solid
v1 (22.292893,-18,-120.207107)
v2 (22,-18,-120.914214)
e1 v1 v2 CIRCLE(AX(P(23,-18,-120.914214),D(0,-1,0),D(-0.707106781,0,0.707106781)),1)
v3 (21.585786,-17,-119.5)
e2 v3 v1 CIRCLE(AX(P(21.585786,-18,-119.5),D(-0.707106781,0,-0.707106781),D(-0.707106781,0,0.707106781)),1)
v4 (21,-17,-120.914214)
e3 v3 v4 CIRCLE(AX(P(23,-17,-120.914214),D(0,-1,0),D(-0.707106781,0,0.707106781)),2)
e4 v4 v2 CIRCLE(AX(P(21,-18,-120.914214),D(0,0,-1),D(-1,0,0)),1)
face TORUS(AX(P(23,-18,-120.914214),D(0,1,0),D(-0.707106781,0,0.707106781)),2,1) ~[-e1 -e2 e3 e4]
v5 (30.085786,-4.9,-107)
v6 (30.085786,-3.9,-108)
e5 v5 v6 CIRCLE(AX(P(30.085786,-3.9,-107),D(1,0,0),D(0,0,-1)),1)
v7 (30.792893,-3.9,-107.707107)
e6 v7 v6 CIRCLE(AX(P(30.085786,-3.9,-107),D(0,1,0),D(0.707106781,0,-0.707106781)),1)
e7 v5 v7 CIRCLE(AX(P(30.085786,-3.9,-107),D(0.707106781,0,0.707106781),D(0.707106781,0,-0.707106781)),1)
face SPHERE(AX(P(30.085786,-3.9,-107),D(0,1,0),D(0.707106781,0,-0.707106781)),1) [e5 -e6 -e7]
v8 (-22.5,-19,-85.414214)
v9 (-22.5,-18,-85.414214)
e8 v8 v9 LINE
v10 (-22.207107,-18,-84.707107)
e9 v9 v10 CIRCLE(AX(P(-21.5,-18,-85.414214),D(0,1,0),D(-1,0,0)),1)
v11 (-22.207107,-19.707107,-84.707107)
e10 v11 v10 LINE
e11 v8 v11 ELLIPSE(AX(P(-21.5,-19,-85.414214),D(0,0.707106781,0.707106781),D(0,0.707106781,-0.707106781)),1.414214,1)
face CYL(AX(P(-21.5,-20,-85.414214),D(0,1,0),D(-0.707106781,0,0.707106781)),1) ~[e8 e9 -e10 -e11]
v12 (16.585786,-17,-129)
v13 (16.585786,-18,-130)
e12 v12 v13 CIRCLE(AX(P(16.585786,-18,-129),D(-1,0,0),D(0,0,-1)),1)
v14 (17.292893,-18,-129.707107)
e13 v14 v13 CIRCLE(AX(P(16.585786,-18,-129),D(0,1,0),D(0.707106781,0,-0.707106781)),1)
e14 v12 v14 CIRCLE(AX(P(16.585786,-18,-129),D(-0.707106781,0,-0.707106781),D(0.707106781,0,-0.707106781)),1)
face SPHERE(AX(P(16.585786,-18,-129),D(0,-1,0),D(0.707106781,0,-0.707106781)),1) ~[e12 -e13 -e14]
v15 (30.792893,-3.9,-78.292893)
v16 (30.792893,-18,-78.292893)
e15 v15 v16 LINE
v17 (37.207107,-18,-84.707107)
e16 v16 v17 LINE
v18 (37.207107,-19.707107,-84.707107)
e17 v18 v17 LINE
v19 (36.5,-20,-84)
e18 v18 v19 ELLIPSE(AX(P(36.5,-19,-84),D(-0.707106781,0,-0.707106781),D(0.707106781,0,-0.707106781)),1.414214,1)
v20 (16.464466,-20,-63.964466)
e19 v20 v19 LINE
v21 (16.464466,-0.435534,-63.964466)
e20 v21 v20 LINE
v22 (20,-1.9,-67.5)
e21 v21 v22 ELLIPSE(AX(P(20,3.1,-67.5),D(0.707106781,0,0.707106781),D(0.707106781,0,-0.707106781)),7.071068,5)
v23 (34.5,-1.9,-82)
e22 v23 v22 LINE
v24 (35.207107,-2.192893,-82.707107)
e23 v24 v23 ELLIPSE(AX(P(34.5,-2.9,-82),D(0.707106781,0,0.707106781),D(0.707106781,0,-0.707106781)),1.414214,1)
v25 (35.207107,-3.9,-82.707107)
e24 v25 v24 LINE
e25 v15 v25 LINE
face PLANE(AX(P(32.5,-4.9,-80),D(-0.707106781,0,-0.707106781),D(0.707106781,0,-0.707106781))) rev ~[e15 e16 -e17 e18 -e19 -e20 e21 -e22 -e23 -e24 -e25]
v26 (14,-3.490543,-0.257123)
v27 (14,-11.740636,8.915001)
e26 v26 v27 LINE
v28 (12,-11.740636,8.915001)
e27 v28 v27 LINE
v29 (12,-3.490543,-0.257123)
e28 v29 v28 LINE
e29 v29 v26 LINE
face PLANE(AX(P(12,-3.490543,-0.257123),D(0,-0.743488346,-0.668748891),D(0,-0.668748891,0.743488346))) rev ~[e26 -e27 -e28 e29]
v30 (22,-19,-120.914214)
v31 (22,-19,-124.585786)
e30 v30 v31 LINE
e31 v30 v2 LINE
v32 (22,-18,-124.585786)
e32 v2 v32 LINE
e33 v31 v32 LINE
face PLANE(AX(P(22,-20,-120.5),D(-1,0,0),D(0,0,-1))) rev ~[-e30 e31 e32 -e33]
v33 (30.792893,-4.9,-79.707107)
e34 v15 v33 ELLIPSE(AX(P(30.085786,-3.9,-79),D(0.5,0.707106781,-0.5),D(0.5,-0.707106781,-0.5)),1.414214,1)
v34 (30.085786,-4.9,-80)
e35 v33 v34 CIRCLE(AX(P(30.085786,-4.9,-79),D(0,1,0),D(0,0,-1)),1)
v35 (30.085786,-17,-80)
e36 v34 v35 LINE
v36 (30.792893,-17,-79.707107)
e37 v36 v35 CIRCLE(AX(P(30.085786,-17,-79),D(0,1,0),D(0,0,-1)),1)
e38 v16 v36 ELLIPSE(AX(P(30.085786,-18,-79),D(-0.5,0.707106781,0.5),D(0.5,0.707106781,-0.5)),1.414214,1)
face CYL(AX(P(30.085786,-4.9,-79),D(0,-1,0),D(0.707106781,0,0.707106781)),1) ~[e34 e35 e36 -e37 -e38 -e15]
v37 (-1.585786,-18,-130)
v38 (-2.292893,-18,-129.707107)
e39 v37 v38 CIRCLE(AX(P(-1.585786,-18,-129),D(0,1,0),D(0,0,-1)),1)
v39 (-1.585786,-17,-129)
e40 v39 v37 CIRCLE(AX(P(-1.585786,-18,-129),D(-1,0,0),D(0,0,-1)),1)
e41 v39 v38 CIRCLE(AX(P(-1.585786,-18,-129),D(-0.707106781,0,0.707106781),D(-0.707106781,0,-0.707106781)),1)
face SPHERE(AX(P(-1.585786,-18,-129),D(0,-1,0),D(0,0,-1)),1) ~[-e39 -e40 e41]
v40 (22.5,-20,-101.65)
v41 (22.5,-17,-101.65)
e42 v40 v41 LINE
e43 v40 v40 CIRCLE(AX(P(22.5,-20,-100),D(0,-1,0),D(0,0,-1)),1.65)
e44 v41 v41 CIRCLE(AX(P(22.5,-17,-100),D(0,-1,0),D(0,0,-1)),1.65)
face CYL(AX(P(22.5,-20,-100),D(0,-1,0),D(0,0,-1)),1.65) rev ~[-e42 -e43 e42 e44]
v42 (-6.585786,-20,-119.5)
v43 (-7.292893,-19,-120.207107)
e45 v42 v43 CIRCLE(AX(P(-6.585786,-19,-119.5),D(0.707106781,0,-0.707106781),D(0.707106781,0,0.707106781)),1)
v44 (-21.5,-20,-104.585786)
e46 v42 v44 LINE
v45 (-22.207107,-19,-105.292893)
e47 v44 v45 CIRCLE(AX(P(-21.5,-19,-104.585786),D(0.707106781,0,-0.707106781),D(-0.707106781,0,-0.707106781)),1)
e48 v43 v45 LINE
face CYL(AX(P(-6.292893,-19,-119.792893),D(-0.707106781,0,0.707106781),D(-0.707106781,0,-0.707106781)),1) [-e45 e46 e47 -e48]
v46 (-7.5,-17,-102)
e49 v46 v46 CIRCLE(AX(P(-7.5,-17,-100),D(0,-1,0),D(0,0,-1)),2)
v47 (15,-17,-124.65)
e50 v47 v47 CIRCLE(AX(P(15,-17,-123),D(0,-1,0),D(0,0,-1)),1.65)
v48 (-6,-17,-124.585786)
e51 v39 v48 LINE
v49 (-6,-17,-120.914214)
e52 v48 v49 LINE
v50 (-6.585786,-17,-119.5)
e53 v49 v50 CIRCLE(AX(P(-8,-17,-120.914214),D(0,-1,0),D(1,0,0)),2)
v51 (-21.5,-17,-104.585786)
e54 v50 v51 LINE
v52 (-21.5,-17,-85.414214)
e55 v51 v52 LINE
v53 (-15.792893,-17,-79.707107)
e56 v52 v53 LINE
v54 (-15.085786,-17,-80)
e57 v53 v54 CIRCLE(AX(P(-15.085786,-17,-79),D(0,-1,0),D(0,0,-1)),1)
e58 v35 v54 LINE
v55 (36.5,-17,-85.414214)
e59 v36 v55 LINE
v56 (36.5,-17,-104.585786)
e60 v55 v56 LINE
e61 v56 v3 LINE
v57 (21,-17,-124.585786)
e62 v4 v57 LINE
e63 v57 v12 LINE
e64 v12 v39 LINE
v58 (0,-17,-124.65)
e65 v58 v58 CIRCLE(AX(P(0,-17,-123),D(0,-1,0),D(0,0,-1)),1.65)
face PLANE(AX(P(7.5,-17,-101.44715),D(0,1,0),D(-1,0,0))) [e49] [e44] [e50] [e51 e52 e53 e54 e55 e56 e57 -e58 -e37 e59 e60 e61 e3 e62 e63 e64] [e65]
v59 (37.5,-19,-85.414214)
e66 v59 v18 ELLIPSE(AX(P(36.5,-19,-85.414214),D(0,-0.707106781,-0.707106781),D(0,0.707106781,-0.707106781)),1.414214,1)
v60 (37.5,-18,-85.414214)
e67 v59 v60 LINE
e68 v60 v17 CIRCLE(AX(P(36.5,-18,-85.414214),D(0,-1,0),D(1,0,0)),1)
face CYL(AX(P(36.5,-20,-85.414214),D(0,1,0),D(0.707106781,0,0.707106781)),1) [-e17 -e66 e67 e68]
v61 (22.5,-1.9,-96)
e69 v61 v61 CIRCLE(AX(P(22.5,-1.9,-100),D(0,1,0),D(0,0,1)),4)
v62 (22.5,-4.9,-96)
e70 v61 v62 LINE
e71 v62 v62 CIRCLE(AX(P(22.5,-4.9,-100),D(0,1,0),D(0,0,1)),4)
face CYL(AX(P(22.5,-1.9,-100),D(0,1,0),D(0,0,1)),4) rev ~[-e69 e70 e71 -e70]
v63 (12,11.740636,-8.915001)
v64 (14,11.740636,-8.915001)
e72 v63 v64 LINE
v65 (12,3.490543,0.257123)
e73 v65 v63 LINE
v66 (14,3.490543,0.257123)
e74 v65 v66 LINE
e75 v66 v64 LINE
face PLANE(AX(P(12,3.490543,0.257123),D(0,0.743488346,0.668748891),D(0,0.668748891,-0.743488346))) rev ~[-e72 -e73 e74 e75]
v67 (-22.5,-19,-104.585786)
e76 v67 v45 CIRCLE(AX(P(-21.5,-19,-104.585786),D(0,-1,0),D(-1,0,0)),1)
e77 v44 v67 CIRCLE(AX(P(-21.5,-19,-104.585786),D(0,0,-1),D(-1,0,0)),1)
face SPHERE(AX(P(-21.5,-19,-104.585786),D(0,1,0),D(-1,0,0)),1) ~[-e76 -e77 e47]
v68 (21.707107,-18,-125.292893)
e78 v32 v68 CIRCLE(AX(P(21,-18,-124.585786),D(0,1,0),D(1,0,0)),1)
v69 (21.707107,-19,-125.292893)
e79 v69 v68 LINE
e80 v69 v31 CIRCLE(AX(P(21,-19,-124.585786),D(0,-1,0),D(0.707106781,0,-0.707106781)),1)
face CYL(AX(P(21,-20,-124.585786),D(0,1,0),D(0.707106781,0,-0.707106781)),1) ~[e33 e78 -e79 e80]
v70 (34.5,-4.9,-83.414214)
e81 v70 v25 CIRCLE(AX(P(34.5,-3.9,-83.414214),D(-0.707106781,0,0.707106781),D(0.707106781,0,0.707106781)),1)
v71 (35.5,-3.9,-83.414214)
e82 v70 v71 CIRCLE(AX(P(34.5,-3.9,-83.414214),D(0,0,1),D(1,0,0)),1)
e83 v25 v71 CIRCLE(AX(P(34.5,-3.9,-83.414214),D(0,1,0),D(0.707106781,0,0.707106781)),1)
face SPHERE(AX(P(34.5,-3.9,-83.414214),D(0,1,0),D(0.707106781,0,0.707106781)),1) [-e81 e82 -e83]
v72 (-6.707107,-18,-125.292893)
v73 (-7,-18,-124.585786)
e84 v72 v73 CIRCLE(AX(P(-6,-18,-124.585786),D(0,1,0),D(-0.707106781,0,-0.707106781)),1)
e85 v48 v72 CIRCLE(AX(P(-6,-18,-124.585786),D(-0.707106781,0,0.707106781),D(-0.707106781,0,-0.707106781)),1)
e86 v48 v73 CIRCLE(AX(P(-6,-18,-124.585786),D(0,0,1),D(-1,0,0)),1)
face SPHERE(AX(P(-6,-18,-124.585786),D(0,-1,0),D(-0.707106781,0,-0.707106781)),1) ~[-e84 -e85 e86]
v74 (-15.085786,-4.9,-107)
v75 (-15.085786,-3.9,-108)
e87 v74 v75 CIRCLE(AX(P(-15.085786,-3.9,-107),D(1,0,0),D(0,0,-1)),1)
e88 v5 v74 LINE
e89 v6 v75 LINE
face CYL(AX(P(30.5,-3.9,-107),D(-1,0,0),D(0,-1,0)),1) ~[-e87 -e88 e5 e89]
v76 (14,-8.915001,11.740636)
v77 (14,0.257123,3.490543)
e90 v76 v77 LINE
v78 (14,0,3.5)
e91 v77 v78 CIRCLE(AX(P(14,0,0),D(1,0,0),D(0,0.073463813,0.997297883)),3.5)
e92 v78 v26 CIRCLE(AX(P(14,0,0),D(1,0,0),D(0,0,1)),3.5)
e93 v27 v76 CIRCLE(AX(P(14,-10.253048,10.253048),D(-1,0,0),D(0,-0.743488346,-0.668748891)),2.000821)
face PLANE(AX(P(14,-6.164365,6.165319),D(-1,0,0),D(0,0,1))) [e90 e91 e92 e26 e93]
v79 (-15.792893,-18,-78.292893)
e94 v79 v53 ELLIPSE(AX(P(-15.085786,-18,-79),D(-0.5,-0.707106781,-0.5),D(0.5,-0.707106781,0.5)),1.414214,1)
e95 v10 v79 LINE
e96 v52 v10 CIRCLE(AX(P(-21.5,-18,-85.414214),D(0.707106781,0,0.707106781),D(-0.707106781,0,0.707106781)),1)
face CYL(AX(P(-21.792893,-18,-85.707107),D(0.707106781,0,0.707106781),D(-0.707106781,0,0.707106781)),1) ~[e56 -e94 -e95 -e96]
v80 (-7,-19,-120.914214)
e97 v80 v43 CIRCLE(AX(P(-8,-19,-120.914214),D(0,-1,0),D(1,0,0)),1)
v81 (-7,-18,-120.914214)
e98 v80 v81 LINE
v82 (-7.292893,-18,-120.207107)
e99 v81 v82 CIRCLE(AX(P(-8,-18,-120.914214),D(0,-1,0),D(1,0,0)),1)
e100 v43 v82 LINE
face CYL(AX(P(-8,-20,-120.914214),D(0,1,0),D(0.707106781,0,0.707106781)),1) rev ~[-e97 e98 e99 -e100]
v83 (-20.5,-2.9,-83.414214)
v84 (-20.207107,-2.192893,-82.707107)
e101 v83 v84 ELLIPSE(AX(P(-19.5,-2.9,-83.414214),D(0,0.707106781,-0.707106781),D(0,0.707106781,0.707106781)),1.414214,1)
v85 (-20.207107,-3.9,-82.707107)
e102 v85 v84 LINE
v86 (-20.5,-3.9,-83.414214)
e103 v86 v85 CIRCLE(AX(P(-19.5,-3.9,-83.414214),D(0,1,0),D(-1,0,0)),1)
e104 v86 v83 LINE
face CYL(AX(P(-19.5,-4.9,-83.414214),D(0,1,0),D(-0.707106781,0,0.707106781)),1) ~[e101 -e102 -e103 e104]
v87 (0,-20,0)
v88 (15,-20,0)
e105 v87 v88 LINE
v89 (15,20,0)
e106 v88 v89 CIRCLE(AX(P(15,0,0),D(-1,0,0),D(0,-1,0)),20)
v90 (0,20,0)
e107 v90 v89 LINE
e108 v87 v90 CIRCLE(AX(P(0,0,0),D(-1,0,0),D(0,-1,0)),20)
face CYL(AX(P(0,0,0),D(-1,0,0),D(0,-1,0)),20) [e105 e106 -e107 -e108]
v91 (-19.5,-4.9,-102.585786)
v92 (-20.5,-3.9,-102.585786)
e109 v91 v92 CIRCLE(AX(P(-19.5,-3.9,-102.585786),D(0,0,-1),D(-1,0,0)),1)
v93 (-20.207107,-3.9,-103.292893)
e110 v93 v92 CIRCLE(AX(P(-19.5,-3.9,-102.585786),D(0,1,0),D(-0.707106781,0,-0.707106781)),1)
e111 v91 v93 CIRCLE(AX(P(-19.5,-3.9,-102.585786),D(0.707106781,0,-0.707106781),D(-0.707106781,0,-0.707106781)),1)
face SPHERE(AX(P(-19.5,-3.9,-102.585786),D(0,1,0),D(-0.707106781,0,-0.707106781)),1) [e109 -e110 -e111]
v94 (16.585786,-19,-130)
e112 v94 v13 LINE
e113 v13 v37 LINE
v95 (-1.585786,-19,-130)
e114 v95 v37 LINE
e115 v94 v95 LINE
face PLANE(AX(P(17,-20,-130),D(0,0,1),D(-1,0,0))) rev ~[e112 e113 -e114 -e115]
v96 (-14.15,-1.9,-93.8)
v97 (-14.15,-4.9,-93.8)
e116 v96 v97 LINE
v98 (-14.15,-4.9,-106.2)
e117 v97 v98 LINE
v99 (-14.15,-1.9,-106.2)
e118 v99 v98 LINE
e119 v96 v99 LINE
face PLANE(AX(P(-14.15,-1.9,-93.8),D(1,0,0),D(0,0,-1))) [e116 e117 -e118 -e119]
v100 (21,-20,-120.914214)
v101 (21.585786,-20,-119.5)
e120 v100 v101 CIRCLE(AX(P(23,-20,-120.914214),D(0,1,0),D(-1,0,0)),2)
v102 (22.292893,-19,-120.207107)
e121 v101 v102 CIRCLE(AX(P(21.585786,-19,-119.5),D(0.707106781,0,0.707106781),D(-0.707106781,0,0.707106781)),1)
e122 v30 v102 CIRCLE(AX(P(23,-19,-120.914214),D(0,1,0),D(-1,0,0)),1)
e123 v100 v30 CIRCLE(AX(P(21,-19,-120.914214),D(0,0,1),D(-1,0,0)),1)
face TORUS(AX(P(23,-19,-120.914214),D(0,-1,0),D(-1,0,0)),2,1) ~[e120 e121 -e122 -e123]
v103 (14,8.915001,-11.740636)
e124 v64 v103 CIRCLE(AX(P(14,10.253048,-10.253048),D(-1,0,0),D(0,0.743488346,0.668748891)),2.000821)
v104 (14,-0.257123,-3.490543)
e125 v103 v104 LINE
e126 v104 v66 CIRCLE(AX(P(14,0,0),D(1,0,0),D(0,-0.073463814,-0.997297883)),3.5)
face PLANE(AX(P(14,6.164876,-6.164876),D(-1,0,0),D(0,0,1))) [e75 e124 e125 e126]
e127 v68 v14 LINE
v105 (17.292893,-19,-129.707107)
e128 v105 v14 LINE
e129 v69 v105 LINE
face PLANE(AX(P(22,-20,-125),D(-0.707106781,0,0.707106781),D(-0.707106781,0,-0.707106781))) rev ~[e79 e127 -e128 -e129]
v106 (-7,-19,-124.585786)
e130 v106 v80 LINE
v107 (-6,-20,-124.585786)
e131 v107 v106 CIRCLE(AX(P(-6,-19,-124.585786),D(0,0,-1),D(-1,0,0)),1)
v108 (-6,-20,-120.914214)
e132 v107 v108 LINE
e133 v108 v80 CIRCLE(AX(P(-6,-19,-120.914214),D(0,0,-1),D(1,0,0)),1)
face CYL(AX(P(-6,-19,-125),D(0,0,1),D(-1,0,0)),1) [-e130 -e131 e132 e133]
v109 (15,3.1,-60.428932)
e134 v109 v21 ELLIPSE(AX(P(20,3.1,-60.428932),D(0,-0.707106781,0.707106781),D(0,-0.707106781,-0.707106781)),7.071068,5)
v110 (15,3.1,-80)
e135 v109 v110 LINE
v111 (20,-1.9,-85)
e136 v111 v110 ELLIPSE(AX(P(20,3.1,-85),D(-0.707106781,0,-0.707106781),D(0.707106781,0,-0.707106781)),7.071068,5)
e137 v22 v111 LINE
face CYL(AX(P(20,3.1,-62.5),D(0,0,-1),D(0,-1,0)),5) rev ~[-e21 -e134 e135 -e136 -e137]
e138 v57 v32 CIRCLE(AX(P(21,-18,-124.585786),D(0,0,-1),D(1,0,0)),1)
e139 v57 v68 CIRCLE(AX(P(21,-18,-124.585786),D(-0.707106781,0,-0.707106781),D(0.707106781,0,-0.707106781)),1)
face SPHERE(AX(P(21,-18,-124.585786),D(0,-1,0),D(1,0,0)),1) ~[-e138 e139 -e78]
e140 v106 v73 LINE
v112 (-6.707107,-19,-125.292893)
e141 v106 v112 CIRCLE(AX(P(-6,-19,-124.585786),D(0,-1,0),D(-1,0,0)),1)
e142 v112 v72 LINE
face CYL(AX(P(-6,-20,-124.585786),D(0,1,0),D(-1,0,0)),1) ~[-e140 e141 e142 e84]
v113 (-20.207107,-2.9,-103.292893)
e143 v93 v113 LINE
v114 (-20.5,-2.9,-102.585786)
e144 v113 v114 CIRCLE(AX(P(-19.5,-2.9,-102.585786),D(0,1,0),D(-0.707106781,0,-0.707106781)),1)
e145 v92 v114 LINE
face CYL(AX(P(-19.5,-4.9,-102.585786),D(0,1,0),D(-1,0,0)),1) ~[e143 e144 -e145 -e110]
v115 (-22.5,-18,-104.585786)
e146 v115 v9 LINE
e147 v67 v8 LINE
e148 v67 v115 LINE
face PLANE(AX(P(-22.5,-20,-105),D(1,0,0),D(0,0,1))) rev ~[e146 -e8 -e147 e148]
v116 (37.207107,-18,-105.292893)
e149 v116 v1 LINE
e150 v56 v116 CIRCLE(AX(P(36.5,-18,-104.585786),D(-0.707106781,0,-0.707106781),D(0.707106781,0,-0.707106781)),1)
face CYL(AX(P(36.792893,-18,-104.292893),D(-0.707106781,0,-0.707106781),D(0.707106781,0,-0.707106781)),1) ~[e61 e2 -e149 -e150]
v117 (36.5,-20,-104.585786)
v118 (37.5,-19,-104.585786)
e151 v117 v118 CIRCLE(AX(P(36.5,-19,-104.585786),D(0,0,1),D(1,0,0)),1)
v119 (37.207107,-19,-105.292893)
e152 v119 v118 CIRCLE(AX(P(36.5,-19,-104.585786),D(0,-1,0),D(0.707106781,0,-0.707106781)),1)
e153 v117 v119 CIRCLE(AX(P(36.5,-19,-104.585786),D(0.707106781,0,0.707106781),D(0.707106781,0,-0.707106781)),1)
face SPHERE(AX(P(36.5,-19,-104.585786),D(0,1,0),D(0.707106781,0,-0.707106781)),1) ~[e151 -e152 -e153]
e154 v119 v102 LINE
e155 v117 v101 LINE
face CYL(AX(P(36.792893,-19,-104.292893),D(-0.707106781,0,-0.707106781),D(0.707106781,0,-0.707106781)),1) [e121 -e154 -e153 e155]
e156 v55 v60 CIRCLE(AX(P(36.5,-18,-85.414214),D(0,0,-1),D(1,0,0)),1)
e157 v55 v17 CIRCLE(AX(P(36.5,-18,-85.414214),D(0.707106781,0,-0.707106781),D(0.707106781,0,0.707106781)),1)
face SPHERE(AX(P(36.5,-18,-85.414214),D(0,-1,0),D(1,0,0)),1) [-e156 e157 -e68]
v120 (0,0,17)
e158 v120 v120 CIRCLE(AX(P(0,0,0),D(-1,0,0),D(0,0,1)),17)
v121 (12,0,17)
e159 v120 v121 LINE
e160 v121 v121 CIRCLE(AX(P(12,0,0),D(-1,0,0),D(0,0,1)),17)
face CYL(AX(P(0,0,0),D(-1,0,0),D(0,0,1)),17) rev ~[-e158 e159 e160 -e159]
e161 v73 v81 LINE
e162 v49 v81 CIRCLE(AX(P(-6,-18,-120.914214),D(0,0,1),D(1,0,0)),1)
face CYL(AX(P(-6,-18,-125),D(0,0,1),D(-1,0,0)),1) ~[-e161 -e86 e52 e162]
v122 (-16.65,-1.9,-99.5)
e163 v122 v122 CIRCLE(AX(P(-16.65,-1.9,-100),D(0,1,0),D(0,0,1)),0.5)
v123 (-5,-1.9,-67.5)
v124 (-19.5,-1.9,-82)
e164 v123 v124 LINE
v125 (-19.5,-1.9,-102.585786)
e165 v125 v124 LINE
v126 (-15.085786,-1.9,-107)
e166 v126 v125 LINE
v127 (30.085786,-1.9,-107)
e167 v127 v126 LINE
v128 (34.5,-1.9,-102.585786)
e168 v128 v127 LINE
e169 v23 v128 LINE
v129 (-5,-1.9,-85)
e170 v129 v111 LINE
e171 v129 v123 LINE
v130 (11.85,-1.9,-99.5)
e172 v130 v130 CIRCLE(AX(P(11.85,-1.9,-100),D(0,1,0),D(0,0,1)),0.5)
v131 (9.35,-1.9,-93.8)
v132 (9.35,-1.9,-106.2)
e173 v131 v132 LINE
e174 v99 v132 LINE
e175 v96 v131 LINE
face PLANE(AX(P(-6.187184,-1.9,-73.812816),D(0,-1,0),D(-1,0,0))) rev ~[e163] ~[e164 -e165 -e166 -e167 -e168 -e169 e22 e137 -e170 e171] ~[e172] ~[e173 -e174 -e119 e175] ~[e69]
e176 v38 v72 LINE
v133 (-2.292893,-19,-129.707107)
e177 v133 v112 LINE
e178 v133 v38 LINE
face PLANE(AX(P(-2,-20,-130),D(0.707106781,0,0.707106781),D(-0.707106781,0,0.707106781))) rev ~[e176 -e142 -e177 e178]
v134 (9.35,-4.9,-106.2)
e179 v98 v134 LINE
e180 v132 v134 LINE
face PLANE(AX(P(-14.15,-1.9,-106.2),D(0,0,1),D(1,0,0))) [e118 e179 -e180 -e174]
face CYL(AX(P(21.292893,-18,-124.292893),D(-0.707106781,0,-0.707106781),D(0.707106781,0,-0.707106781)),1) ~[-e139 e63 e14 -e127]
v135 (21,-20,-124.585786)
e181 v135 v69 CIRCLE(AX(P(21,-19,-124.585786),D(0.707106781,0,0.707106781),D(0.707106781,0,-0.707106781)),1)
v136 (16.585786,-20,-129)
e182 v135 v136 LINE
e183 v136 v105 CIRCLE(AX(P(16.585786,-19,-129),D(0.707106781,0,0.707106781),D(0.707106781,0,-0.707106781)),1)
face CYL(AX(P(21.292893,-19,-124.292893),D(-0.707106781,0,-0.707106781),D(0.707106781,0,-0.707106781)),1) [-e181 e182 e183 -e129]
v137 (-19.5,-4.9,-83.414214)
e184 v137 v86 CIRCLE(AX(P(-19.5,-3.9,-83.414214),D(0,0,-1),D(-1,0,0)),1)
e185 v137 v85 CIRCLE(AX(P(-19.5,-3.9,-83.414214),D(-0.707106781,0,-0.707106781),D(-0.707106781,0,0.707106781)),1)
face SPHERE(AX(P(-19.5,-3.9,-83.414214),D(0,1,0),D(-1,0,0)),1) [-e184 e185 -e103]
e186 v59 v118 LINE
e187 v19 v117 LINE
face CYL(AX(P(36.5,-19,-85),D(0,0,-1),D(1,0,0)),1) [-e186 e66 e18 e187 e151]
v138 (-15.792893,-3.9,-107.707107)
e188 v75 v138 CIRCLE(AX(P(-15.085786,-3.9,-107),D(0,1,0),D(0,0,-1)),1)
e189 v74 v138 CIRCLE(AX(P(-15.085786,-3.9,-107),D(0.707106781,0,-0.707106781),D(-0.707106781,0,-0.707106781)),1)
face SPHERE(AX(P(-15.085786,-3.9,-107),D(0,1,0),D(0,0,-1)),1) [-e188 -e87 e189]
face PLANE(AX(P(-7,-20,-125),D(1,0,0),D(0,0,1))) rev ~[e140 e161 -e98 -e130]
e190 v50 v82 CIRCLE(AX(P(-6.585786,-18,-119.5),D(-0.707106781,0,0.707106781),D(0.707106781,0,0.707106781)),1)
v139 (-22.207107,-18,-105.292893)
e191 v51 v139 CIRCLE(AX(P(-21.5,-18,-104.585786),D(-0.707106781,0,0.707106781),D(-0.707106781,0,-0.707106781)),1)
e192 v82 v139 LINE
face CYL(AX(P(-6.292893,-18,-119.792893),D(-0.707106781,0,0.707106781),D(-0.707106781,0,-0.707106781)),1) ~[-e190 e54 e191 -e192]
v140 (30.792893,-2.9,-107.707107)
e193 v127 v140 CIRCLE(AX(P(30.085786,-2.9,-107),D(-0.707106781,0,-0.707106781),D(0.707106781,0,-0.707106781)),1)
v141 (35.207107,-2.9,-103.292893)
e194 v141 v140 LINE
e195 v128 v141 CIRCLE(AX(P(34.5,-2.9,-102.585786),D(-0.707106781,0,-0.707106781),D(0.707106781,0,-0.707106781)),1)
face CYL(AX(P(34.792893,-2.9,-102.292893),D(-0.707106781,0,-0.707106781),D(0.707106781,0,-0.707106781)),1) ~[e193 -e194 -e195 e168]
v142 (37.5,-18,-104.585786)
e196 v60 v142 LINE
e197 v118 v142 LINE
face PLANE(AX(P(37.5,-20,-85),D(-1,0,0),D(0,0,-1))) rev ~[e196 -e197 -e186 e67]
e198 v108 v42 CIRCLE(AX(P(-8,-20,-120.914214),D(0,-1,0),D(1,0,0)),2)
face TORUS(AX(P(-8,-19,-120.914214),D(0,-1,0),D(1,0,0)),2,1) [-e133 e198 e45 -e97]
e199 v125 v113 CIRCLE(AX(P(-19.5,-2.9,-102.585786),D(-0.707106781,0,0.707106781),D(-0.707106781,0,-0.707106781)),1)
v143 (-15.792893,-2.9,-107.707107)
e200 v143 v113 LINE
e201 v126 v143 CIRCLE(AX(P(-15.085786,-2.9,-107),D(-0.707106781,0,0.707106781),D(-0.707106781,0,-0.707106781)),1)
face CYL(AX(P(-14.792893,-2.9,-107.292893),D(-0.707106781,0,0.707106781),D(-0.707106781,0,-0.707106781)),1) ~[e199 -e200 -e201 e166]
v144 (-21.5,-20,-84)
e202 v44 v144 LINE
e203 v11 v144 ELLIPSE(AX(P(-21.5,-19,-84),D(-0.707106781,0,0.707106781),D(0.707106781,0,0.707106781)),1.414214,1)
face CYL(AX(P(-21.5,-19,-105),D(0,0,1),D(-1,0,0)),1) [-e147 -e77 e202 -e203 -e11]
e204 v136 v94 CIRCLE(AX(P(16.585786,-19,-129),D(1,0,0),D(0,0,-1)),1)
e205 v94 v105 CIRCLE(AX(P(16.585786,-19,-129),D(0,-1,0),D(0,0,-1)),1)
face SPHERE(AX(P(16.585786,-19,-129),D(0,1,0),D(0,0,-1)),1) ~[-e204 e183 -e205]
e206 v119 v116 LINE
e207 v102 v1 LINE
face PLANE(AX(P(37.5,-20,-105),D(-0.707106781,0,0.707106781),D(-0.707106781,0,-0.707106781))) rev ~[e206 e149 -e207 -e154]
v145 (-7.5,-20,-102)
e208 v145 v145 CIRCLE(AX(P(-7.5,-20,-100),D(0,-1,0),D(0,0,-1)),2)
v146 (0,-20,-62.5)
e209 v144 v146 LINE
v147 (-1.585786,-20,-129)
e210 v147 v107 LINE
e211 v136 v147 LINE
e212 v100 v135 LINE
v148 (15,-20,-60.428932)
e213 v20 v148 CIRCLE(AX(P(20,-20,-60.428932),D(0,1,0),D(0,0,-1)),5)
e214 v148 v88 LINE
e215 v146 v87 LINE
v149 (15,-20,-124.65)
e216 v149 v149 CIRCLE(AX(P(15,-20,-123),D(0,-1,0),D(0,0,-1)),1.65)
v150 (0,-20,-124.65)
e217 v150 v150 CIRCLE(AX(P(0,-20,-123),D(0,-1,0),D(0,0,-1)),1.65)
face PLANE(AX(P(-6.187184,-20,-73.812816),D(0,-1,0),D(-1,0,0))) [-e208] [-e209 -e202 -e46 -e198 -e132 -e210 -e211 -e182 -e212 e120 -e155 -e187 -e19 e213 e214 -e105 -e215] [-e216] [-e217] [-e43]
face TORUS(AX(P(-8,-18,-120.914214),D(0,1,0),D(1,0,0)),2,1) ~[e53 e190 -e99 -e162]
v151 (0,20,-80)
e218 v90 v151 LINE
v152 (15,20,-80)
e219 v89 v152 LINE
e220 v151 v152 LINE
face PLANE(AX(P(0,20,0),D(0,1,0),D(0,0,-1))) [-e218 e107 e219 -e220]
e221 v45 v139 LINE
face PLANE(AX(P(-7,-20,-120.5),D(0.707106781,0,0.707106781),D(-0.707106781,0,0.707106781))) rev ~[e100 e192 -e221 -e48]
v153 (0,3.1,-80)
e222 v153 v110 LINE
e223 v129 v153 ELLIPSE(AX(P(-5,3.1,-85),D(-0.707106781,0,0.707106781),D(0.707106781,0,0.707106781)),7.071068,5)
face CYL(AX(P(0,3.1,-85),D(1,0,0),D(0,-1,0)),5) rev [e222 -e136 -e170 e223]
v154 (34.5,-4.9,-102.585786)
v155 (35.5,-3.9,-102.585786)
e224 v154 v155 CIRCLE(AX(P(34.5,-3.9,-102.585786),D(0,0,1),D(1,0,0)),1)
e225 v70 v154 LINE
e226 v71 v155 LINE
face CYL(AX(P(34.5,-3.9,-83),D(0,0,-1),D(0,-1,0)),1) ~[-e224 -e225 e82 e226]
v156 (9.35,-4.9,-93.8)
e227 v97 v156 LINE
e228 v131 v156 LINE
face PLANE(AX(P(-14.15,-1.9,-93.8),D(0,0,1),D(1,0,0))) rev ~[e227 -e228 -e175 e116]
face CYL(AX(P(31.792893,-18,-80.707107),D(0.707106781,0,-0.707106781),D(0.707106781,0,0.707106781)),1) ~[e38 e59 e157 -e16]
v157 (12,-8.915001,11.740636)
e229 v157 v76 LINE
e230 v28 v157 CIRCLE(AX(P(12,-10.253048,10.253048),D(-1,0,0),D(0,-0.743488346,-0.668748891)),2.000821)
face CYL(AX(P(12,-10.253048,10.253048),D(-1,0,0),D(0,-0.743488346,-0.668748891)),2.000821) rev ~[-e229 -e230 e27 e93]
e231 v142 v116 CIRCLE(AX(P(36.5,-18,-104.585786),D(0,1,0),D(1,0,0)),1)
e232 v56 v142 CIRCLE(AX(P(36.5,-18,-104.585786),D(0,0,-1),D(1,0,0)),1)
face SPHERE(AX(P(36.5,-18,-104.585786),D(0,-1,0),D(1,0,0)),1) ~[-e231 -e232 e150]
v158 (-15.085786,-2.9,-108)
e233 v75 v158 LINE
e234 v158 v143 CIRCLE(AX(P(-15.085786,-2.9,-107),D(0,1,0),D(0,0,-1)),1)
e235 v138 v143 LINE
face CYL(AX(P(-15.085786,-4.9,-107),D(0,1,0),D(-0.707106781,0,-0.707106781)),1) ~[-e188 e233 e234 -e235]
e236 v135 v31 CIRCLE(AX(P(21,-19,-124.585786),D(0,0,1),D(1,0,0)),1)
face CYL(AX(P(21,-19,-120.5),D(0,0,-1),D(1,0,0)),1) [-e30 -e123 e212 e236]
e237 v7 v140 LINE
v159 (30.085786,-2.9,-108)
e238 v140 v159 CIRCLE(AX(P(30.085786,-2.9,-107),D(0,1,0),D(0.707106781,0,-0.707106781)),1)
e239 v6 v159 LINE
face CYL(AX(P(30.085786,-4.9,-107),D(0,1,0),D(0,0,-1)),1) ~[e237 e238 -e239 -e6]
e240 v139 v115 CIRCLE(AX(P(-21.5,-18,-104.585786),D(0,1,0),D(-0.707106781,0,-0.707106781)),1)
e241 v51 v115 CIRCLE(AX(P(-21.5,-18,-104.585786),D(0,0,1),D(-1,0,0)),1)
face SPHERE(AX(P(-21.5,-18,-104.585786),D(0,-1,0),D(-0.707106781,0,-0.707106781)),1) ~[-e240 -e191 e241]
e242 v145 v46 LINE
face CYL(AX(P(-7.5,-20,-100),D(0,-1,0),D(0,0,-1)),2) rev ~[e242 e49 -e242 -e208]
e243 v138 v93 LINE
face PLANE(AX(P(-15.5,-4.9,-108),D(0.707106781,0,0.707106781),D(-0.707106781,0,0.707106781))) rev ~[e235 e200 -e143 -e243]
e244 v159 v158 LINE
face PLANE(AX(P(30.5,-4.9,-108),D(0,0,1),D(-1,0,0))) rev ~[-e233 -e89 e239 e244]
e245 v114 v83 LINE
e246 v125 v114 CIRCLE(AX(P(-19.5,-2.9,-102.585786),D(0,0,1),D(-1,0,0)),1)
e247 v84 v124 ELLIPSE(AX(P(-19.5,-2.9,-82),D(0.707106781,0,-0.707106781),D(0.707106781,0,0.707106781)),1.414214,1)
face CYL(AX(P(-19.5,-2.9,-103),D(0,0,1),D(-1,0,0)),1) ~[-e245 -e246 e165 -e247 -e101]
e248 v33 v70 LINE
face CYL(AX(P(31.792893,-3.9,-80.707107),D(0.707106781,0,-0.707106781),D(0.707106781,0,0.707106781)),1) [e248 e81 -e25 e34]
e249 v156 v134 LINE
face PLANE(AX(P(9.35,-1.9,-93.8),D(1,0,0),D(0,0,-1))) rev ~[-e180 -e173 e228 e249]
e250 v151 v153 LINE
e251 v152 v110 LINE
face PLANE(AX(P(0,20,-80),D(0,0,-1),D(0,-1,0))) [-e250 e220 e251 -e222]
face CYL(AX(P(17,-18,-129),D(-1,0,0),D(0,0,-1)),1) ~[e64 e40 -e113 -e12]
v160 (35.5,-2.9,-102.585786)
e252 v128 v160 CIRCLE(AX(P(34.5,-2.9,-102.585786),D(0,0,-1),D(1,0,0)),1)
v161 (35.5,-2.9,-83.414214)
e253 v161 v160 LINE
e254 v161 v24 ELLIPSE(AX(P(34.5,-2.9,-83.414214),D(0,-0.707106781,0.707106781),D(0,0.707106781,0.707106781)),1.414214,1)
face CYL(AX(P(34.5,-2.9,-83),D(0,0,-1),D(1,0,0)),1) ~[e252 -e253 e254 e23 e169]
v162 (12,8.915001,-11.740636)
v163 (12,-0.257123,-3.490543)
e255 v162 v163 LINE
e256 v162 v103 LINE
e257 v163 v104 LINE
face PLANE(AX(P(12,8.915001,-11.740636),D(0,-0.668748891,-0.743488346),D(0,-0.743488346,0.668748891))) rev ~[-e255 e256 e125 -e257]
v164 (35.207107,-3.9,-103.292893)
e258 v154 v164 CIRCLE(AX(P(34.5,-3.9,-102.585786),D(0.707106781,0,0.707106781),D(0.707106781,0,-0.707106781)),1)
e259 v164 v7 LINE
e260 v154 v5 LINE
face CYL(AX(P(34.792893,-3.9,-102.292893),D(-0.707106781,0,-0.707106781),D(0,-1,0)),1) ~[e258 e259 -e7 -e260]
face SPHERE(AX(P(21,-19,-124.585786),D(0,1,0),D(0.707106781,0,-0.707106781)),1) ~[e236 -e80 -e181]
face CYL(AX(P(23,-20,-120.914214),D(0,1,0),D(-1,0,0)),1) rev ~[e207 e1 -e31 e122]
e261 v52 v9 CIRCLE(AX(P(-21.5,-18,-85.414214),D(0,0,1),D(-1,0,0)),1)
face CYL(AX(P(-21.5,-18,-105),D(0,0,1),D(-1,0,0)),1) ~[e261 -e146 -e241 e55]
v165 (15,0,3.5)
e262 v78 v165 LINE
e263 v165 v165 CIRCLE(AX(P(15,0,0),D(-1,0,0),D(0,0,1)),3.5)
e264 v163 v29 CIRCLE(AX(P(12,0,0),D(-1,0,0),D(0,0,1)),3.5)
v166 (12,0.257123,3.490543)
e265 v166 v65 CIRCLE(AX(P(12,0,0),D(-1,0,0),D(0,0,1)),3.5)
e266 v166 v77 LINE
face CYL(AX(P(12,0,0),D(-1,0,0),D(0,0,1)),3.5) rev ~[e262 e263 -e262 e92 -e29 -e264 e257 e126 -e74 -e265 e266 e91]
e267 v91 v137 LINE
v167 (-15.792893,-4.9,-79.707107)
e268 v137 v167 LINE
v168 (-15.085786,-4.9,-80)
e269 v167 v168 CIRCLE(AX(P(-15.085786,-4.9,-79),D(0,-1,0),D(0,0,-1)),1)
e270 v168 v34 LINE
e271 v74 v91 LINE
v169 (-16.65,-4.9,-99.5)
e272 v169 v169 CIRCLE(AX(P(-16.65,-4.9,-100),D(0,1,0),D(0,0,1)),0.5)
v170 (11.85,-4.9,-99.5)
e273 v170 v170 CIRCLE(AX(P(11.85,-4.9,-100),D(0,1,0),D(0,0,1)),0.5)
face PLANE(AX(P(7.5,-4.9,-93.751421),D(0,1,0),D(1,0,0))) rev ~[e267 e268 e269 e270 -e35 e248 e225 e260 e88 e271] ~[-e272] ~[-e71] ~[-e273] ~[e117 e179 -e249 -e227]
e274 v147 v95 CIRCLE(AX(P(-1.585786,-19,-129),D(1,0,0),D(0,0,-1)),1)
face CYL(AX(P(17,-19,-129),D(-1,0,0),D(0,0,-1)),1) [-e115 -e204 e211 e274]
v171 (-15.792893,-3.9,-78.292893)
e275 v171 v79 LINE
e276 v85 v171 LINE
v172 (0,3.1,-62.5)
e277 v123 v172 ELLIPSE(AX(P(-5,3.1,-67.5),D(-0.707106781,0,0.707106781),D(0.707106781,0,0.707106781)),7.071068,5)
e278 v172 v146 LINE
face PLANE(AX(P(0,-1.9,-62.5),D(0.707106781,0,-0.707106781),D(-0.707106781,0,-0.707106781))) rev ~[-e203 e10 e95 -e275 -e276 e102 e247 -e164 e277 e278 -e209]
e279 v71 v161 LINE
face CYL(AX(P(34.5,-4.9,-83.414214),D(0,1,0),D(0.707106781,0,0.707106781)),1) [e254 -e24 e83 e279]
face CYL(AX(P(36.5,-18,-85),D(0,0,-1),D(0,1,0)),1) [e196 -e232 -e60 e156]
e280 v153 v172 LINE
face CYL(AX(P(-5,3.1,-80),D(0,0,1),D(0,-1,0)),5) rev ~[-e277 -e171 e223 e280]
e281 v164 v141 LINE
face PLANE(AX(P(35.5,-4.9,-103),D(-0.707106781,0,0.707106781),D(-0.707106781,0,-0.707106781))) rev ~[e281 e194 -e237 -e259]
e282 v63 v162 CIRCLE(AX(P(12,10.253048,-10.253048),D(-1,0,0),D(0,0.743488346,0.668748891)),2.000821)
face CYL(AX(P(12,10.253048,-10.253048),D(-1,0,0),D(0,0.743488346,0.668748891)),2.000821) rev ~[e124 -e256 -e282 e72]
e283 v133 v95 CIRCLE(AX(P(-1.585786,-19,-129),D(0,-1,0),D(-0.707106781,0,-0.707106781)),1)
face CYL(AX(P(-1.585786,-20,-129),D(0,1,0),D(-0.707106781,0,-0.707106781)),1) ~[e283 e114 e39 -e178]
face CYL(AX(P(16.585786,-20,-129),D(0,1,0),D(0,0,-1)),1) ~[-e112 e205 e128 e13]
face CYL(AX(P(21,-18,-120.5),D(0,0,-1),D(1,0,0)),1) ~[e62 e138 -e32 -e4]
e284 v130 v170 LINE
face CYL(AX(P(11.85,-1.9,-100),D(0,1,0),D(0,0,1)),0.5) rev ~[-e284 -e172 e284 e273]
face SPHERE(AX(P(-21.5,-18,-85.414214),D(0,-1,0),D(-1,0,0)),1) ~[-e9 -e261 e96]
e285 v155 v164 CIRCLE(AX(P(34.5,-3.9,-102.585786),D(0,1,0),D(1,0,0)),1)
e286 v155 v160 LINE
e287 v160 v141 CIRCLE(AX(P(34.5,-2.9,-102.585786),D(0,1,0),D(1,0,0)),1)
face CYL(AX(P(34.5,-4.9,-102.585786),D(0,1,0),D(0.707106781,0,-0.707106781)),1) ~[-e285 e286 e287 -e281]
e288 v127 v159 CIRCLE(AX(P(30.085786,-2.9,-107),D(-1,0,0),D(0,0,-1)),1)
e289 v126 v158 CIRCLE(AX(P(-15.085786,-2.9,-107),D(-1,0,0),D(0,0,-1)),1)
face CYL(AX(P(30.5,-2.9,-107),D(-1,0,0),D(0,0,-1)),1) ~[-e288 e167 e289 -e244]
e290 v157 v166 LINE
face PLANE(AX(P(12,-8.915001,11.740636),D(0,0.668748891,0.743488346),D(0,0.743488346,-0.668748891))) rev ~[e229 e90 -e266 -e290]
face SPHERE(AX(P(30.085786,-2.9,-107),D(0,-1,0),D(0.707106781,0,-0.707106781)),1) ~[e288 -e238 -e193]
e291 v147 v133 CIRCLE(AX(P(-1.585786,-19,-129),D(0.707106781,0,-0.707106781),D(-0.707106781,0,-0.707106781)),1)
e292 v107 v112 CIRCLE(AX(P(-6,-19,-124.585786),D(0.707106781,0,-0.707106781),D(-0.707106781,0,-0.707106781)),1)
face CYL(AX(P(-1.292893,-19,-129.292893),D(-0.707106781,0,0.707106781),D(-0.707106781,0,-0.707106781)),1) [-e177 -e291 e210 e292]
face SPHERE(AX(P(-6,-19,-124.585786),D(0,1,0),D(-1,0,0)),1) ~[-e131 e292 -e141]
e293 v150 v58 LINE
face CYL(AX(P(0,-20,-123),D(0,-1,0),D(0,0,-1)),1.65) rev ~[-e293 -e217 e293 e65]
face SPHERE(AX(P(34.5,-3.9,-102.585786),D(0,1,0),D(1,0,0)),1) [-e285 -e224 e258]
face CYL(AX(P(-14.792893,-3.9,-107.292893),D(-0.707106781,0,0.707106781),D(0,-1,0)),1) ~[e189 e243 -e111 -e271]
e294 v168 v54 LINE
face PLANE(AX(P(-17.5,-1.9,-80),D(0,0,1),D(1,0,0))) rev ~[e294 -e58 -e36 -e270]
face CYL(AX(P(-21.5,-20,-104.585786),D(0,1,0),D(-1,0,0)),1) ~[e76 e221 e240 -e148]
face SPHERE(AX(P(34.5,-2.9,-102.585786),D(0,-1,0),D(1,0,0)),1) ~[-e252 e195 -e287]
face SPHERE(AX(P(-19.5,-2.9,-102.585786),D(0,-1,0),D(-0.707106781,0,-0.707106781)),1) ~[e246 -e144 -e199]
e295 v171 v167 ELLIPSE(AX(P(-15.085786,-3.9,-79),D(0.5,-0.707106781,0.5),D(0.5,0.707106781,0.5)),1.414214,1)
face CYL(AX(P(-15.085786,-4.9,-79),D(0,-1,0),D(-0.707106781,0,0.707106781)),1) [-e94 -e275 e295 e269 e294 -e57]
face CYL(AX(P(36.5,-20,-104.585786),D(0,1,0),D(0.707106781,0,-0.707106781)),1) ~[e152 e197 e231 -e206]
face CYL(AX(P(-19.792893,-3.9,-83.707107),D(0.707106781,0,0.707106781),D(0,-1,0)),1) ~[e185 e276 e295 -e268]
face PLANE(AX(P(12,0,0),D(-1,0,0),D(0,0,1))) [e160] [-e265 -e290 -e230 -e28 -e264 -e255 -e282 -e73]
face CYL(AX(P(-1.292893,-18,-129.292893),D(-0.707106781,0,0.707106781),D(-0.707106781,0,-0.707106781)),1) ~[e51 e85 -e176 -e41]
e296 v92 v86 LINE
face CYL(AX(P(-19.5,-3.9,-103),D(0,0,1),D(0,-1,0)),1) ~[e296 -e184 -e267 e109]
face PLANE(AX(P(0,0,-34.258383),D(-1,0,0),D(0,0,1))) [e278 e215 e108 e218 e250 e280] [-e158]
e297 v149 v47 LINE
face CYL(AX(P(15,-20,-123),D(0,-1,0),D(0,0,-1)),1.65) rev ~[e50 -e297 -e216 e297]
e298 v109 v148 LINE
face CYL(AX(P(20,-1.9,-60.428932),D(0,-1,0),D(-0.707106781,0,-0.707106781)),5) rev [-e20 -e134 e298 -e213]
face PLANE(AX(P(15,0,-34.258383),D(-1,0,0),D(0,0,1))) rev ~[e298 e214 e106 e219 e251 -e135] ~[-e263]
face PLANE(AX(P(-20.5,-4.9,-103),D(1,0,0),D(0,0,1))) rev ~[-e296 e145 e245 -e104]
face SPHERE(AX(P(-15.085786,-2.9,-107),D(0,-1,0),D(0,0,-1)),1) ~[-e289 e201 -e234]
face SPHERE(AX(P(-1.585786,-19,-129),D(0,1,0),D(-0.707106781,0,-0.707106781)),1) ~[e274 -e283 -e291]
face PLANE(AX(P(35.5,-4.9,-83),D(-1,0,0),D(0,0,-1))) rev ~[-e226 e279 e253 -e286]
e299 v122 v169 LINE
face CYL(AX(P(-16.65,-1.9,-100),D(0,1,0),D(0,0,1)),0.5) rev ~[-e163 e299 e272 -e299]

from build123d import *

# Parameters (mm, degrees)
BOSS_EXTRUDE1_DEPTH = 15
SKETCH5_R           = 17
CUT_EXTRUDE3_DEPTH  = 12
SKETCH8_R           = 3.5
CUT_EXTRUDE5_DEPTH  = 3
CUT_EXTRUDE8_DEPTH  = 2
BOSS_EXTRUDE2_DEPTH = 3
BOSS_EXTRUDE3_DEPTH = 3
SKETCH14_R          = 2
SKETCH14_R_2        = 1.65
CUT_EXTRUDE10_DEPTH = 3
SKETCH15_R          = 0.5
SKETCH15_R_2        = 4
SKETCH15_W          = 23.5
SKETCH15_H          = 12.4
CUT_EXTRUDE11_DEPTH = 3
BOSS_EXTRUDE4_DEPTH = 18.1
FILLET2_R           = 5
FILLET3_R           = 1


with BuildPart() as part:
    # Sketch1 → Boss-Extrude1 (new body)
    with BuildSketch(Plane(origin=(0, 0, 0), x_dir=(0, 0, -1), z_dir=(1, 0, 0))):
        with BuildLine():
            Line((0, 20), (80, 20))
            Line((80, 20), (80, -20))
            Line((80, -20), (0, -20))
            ThreePointArc((0, -20), (-20, 0), (0, 20))
        make_face()
    extrude(amount=BOSS_EXTRUDE1_DEPTH)

    # Sketch5 → Cut-Extrude3 (cut)
    with BuildSketch(Plane.ZY):
        Circle(SKETCH5_R)
    extrude(amount=-CUT_EXTRUDE3_DEPTH, mode=Mode.SUBTRACT)

    # Sketch8 → Cut-Extrude5 (cut)
    with BuildSketch(Plane.ZY.offset(-12)):
        Circle(SKETCH8_R)
    extrude(amount=-CUT_EXTRUDE5_DEPTH, mode=Mode.SUBTRACT)

    # Sketch10 → Cut-Extrude8 (cut)
    with BuildSketch(Plane.ZY.offset(-12)):
        with BuildLine():
            Line((-11.740635761, 8.915001197), (-3.490542592, -0.257123349))
            ThreePointArc((-3.490542592, -0.257123349), (-2.474873734, 2.474873734), (0.257123349, 3.490542592))
            Line((0.257123349, 3.490542592), (-8.915001197, 11.740635761))
            ThreePointArc((-8.915001197, 11.740635761), (-11.667842746, 11.667842746), (-11.740635761, 8.915001197))
        make_face()
        with BuildLine():
            Line((11.740635761, -8.915001197), (3.490542592, 0.257123349))
            ThreePointArc((3.490542592, 0.257123349), (3.497634849, 0.12864861), (3.5, 0))
            ThreePointArc((3.5, 0), (2.382233015, -2.564169624), (-0.257123349, -3.490542592))
            Line((-0.257123349, -3.490542592), (8.915001197, -11.740635761))
            ThreePointArc((8.915001197, -11.740635761), (11.667842746, -11.667842746), (11.740635761, -8.915001197))
        make_face()
    extrude(amount=-CUT_EXTRUDE8_DEPTH, mode=Mode.SUBTRACT)

    # Sketch13 → Boss-Extrude3 (add)
    with BuildSketch(Plane(origin=(0, -4.9, 0), x_dir=(1, 0, 0), z_dir=(0, 1, 0))):
        Polygon((-17.5, 80), (32.5, 80), (35.5, 83), (35.5, 103), (30.5, 108), (-15.5, 108), (-20.5, 103), (-20.5, 83), align=None)
    extrude(amount=BOSS_EXTRUDE3_DEPTH)

    # Sketch15 → Cut-Extrude11 (cut)
    with BuildSketch(Plane(origin=(0, -1.9, 0), x_dir=(1, 0, 0), z_dir=(0, 1, 0))):
        with Locations(Location((-16.65, 100, 0), (0, 0, 270))):
            Circle(SKETCH15_R)
        with Locations(Location((11.85, 100, 0), (0, 0, 270))):
            Circle(SKETCH15_R)
        with Locations(Location((22.5, 100, 0), (0, 0, 270))):
            Circle(SKETCH15_R_2)
        with Locations((-2.4, 100)):
            Rectangle(SKETCH15_W, SKETCH15_H)
    extrude(amount=-CUT_EXTRUDE11_DEPTH, mode=Mode.SUBTRACT)



with BuildPart() as body_2:
    # Sketch12 → Boss-Extrude2 (new body)
    with BuildSketch(Plane.XZ.offset(20)):
        Polygon((-17.5, -80), (32.5, -80), (37.5, -85), (37.5, -105), (22, -120.5), (22, -125), (17, -130), (-2, -130), (-7, -125), (-7, -120.5), (-22.5, -105), (-22.5, -85), align=None)
    extrude(amount=-BOSS_EXTRUDE2_DEPTH)

    # Sketch14 → Cut-Extrude10 (cut)
    with BuildSketch(Plane.XZ.offset(20)):
        with Locations(Location((-7.5, -100, 0), (0, 0, 270))):
            Circle(SKETCH14_R)
        with Locations(Location((22.5, -100, 0), (0, 0, 270))):
            Circle(SKETCH14_R_2)
        with Locations(Location((15, -123, 0), (0, 0, 270))):
            Circle(SKETCH14_R_2)
        with Locations(Location((0, -123, 0), (0, 0, 270))):
            Circle(SKETCH14_R_2)
    extrude(amount=-CUT_EXTRUDE10_DEPTH, mode=Mode.SUBTRACT)


with BuildPart() as part_1:
    add(part.part)

    add(body_2.part)  # Boss-Extrude4 merges body 2
    # Sketch16 → Boss-Extrude4 (add)
    with BuildSketch(Plane(origin=(0, -1.9, 0), x_dir=(1, 0, 0), z_dir=(0, 1, 0))):
        Polygon((-17.5, 80), (0, 80), (0, 62.5), align=None)
        Polygon((15, 80), (32.5, 80), (15, 62.5), align=None)
    extrude(amount=-BOSS_EXTRUDE4_DEPTH)

    # Fillet2
    fillet2_edges = [part_1.edges().sort_by_distance(p)[0] for p in [
        (15, -10.95, -62.5),
        (15, -1.9, -71.25),
        (0, -1.9, -71.25),
        (7.5, -1.9, -80),
    ]]
    fillet(fillet2_edges, radius=FILLET2_R)

    # Fillet3
    fillet3_edges = [part_1.edges().sort_by_distance(p)[0] for p in [
        (-7, -20, -122.75),
        (32.5, -10.95, -80),
        (-4.5, -20, -127.5),
        (-20, -17, -82.5),
        (7.5, -20, -130),
        (19.5, -20, -127.5),
        (22, -20, -122.75),
        (29.75, -20, -112.75),
        (37.5, -20, -95),
        (-22.5, -20, -95),
        (-14.75, -20, -112.75),
        (-7, -18.5, -120.5),
        (-7, -18.5, -125),
        (-2, -18.5, -130),
        (35, -17, -82.5),
        (17, -18.5, -130),
        (22, -18.5, -125),
        (22, -18.5, -120.5),
        (37.5, -18.5, -105),
        (37.5, -18.5, -85),
        (-22.5, -18.5, -85),
        (-22.5, -18.5, -105),
        (37.5, -17, -95),
        (29.75, -17, -112.75),
        (22, -17, -122.75),
        (19.5, -17, -127.5),
        (7.5, -17, -130),
        (-4.5, -17, -127.5),
        (-7, -17, -122.75),
        (-14.75, -17, -112.75),
        (-17.5, -10.95, -80),
        (-19, -4.9, -81.5),
        (-20.5, -3.4, -83),
        (34, -4.9, -81.5),
        (35.5, -4.9, -93),
        (35.5, -3.4, -83),
        (33, -4.9, -105.5),
        (35.5, -3.4, -103),
        (7.5, -4.9, -108),
        (30.5, -3.4, -108),
        (-18, -4.9, -105.5),
        (-15.5, -3.4, -108),
        (-20.5, -4.9, -93),
        (-20.5, -3.4, -103),
        (35.5, -1.9, -93),
        (33, -1.9, -105.5),
        (7.5, -1.9, -108),
        (-18, -1.9, -105.5),
        (-20.5, -1.9, -93),
        (-22.5, -17, -95),
    ]]
    fillet(fillet3_edges, radius=FILLET3_R)


solid = part_1.part
